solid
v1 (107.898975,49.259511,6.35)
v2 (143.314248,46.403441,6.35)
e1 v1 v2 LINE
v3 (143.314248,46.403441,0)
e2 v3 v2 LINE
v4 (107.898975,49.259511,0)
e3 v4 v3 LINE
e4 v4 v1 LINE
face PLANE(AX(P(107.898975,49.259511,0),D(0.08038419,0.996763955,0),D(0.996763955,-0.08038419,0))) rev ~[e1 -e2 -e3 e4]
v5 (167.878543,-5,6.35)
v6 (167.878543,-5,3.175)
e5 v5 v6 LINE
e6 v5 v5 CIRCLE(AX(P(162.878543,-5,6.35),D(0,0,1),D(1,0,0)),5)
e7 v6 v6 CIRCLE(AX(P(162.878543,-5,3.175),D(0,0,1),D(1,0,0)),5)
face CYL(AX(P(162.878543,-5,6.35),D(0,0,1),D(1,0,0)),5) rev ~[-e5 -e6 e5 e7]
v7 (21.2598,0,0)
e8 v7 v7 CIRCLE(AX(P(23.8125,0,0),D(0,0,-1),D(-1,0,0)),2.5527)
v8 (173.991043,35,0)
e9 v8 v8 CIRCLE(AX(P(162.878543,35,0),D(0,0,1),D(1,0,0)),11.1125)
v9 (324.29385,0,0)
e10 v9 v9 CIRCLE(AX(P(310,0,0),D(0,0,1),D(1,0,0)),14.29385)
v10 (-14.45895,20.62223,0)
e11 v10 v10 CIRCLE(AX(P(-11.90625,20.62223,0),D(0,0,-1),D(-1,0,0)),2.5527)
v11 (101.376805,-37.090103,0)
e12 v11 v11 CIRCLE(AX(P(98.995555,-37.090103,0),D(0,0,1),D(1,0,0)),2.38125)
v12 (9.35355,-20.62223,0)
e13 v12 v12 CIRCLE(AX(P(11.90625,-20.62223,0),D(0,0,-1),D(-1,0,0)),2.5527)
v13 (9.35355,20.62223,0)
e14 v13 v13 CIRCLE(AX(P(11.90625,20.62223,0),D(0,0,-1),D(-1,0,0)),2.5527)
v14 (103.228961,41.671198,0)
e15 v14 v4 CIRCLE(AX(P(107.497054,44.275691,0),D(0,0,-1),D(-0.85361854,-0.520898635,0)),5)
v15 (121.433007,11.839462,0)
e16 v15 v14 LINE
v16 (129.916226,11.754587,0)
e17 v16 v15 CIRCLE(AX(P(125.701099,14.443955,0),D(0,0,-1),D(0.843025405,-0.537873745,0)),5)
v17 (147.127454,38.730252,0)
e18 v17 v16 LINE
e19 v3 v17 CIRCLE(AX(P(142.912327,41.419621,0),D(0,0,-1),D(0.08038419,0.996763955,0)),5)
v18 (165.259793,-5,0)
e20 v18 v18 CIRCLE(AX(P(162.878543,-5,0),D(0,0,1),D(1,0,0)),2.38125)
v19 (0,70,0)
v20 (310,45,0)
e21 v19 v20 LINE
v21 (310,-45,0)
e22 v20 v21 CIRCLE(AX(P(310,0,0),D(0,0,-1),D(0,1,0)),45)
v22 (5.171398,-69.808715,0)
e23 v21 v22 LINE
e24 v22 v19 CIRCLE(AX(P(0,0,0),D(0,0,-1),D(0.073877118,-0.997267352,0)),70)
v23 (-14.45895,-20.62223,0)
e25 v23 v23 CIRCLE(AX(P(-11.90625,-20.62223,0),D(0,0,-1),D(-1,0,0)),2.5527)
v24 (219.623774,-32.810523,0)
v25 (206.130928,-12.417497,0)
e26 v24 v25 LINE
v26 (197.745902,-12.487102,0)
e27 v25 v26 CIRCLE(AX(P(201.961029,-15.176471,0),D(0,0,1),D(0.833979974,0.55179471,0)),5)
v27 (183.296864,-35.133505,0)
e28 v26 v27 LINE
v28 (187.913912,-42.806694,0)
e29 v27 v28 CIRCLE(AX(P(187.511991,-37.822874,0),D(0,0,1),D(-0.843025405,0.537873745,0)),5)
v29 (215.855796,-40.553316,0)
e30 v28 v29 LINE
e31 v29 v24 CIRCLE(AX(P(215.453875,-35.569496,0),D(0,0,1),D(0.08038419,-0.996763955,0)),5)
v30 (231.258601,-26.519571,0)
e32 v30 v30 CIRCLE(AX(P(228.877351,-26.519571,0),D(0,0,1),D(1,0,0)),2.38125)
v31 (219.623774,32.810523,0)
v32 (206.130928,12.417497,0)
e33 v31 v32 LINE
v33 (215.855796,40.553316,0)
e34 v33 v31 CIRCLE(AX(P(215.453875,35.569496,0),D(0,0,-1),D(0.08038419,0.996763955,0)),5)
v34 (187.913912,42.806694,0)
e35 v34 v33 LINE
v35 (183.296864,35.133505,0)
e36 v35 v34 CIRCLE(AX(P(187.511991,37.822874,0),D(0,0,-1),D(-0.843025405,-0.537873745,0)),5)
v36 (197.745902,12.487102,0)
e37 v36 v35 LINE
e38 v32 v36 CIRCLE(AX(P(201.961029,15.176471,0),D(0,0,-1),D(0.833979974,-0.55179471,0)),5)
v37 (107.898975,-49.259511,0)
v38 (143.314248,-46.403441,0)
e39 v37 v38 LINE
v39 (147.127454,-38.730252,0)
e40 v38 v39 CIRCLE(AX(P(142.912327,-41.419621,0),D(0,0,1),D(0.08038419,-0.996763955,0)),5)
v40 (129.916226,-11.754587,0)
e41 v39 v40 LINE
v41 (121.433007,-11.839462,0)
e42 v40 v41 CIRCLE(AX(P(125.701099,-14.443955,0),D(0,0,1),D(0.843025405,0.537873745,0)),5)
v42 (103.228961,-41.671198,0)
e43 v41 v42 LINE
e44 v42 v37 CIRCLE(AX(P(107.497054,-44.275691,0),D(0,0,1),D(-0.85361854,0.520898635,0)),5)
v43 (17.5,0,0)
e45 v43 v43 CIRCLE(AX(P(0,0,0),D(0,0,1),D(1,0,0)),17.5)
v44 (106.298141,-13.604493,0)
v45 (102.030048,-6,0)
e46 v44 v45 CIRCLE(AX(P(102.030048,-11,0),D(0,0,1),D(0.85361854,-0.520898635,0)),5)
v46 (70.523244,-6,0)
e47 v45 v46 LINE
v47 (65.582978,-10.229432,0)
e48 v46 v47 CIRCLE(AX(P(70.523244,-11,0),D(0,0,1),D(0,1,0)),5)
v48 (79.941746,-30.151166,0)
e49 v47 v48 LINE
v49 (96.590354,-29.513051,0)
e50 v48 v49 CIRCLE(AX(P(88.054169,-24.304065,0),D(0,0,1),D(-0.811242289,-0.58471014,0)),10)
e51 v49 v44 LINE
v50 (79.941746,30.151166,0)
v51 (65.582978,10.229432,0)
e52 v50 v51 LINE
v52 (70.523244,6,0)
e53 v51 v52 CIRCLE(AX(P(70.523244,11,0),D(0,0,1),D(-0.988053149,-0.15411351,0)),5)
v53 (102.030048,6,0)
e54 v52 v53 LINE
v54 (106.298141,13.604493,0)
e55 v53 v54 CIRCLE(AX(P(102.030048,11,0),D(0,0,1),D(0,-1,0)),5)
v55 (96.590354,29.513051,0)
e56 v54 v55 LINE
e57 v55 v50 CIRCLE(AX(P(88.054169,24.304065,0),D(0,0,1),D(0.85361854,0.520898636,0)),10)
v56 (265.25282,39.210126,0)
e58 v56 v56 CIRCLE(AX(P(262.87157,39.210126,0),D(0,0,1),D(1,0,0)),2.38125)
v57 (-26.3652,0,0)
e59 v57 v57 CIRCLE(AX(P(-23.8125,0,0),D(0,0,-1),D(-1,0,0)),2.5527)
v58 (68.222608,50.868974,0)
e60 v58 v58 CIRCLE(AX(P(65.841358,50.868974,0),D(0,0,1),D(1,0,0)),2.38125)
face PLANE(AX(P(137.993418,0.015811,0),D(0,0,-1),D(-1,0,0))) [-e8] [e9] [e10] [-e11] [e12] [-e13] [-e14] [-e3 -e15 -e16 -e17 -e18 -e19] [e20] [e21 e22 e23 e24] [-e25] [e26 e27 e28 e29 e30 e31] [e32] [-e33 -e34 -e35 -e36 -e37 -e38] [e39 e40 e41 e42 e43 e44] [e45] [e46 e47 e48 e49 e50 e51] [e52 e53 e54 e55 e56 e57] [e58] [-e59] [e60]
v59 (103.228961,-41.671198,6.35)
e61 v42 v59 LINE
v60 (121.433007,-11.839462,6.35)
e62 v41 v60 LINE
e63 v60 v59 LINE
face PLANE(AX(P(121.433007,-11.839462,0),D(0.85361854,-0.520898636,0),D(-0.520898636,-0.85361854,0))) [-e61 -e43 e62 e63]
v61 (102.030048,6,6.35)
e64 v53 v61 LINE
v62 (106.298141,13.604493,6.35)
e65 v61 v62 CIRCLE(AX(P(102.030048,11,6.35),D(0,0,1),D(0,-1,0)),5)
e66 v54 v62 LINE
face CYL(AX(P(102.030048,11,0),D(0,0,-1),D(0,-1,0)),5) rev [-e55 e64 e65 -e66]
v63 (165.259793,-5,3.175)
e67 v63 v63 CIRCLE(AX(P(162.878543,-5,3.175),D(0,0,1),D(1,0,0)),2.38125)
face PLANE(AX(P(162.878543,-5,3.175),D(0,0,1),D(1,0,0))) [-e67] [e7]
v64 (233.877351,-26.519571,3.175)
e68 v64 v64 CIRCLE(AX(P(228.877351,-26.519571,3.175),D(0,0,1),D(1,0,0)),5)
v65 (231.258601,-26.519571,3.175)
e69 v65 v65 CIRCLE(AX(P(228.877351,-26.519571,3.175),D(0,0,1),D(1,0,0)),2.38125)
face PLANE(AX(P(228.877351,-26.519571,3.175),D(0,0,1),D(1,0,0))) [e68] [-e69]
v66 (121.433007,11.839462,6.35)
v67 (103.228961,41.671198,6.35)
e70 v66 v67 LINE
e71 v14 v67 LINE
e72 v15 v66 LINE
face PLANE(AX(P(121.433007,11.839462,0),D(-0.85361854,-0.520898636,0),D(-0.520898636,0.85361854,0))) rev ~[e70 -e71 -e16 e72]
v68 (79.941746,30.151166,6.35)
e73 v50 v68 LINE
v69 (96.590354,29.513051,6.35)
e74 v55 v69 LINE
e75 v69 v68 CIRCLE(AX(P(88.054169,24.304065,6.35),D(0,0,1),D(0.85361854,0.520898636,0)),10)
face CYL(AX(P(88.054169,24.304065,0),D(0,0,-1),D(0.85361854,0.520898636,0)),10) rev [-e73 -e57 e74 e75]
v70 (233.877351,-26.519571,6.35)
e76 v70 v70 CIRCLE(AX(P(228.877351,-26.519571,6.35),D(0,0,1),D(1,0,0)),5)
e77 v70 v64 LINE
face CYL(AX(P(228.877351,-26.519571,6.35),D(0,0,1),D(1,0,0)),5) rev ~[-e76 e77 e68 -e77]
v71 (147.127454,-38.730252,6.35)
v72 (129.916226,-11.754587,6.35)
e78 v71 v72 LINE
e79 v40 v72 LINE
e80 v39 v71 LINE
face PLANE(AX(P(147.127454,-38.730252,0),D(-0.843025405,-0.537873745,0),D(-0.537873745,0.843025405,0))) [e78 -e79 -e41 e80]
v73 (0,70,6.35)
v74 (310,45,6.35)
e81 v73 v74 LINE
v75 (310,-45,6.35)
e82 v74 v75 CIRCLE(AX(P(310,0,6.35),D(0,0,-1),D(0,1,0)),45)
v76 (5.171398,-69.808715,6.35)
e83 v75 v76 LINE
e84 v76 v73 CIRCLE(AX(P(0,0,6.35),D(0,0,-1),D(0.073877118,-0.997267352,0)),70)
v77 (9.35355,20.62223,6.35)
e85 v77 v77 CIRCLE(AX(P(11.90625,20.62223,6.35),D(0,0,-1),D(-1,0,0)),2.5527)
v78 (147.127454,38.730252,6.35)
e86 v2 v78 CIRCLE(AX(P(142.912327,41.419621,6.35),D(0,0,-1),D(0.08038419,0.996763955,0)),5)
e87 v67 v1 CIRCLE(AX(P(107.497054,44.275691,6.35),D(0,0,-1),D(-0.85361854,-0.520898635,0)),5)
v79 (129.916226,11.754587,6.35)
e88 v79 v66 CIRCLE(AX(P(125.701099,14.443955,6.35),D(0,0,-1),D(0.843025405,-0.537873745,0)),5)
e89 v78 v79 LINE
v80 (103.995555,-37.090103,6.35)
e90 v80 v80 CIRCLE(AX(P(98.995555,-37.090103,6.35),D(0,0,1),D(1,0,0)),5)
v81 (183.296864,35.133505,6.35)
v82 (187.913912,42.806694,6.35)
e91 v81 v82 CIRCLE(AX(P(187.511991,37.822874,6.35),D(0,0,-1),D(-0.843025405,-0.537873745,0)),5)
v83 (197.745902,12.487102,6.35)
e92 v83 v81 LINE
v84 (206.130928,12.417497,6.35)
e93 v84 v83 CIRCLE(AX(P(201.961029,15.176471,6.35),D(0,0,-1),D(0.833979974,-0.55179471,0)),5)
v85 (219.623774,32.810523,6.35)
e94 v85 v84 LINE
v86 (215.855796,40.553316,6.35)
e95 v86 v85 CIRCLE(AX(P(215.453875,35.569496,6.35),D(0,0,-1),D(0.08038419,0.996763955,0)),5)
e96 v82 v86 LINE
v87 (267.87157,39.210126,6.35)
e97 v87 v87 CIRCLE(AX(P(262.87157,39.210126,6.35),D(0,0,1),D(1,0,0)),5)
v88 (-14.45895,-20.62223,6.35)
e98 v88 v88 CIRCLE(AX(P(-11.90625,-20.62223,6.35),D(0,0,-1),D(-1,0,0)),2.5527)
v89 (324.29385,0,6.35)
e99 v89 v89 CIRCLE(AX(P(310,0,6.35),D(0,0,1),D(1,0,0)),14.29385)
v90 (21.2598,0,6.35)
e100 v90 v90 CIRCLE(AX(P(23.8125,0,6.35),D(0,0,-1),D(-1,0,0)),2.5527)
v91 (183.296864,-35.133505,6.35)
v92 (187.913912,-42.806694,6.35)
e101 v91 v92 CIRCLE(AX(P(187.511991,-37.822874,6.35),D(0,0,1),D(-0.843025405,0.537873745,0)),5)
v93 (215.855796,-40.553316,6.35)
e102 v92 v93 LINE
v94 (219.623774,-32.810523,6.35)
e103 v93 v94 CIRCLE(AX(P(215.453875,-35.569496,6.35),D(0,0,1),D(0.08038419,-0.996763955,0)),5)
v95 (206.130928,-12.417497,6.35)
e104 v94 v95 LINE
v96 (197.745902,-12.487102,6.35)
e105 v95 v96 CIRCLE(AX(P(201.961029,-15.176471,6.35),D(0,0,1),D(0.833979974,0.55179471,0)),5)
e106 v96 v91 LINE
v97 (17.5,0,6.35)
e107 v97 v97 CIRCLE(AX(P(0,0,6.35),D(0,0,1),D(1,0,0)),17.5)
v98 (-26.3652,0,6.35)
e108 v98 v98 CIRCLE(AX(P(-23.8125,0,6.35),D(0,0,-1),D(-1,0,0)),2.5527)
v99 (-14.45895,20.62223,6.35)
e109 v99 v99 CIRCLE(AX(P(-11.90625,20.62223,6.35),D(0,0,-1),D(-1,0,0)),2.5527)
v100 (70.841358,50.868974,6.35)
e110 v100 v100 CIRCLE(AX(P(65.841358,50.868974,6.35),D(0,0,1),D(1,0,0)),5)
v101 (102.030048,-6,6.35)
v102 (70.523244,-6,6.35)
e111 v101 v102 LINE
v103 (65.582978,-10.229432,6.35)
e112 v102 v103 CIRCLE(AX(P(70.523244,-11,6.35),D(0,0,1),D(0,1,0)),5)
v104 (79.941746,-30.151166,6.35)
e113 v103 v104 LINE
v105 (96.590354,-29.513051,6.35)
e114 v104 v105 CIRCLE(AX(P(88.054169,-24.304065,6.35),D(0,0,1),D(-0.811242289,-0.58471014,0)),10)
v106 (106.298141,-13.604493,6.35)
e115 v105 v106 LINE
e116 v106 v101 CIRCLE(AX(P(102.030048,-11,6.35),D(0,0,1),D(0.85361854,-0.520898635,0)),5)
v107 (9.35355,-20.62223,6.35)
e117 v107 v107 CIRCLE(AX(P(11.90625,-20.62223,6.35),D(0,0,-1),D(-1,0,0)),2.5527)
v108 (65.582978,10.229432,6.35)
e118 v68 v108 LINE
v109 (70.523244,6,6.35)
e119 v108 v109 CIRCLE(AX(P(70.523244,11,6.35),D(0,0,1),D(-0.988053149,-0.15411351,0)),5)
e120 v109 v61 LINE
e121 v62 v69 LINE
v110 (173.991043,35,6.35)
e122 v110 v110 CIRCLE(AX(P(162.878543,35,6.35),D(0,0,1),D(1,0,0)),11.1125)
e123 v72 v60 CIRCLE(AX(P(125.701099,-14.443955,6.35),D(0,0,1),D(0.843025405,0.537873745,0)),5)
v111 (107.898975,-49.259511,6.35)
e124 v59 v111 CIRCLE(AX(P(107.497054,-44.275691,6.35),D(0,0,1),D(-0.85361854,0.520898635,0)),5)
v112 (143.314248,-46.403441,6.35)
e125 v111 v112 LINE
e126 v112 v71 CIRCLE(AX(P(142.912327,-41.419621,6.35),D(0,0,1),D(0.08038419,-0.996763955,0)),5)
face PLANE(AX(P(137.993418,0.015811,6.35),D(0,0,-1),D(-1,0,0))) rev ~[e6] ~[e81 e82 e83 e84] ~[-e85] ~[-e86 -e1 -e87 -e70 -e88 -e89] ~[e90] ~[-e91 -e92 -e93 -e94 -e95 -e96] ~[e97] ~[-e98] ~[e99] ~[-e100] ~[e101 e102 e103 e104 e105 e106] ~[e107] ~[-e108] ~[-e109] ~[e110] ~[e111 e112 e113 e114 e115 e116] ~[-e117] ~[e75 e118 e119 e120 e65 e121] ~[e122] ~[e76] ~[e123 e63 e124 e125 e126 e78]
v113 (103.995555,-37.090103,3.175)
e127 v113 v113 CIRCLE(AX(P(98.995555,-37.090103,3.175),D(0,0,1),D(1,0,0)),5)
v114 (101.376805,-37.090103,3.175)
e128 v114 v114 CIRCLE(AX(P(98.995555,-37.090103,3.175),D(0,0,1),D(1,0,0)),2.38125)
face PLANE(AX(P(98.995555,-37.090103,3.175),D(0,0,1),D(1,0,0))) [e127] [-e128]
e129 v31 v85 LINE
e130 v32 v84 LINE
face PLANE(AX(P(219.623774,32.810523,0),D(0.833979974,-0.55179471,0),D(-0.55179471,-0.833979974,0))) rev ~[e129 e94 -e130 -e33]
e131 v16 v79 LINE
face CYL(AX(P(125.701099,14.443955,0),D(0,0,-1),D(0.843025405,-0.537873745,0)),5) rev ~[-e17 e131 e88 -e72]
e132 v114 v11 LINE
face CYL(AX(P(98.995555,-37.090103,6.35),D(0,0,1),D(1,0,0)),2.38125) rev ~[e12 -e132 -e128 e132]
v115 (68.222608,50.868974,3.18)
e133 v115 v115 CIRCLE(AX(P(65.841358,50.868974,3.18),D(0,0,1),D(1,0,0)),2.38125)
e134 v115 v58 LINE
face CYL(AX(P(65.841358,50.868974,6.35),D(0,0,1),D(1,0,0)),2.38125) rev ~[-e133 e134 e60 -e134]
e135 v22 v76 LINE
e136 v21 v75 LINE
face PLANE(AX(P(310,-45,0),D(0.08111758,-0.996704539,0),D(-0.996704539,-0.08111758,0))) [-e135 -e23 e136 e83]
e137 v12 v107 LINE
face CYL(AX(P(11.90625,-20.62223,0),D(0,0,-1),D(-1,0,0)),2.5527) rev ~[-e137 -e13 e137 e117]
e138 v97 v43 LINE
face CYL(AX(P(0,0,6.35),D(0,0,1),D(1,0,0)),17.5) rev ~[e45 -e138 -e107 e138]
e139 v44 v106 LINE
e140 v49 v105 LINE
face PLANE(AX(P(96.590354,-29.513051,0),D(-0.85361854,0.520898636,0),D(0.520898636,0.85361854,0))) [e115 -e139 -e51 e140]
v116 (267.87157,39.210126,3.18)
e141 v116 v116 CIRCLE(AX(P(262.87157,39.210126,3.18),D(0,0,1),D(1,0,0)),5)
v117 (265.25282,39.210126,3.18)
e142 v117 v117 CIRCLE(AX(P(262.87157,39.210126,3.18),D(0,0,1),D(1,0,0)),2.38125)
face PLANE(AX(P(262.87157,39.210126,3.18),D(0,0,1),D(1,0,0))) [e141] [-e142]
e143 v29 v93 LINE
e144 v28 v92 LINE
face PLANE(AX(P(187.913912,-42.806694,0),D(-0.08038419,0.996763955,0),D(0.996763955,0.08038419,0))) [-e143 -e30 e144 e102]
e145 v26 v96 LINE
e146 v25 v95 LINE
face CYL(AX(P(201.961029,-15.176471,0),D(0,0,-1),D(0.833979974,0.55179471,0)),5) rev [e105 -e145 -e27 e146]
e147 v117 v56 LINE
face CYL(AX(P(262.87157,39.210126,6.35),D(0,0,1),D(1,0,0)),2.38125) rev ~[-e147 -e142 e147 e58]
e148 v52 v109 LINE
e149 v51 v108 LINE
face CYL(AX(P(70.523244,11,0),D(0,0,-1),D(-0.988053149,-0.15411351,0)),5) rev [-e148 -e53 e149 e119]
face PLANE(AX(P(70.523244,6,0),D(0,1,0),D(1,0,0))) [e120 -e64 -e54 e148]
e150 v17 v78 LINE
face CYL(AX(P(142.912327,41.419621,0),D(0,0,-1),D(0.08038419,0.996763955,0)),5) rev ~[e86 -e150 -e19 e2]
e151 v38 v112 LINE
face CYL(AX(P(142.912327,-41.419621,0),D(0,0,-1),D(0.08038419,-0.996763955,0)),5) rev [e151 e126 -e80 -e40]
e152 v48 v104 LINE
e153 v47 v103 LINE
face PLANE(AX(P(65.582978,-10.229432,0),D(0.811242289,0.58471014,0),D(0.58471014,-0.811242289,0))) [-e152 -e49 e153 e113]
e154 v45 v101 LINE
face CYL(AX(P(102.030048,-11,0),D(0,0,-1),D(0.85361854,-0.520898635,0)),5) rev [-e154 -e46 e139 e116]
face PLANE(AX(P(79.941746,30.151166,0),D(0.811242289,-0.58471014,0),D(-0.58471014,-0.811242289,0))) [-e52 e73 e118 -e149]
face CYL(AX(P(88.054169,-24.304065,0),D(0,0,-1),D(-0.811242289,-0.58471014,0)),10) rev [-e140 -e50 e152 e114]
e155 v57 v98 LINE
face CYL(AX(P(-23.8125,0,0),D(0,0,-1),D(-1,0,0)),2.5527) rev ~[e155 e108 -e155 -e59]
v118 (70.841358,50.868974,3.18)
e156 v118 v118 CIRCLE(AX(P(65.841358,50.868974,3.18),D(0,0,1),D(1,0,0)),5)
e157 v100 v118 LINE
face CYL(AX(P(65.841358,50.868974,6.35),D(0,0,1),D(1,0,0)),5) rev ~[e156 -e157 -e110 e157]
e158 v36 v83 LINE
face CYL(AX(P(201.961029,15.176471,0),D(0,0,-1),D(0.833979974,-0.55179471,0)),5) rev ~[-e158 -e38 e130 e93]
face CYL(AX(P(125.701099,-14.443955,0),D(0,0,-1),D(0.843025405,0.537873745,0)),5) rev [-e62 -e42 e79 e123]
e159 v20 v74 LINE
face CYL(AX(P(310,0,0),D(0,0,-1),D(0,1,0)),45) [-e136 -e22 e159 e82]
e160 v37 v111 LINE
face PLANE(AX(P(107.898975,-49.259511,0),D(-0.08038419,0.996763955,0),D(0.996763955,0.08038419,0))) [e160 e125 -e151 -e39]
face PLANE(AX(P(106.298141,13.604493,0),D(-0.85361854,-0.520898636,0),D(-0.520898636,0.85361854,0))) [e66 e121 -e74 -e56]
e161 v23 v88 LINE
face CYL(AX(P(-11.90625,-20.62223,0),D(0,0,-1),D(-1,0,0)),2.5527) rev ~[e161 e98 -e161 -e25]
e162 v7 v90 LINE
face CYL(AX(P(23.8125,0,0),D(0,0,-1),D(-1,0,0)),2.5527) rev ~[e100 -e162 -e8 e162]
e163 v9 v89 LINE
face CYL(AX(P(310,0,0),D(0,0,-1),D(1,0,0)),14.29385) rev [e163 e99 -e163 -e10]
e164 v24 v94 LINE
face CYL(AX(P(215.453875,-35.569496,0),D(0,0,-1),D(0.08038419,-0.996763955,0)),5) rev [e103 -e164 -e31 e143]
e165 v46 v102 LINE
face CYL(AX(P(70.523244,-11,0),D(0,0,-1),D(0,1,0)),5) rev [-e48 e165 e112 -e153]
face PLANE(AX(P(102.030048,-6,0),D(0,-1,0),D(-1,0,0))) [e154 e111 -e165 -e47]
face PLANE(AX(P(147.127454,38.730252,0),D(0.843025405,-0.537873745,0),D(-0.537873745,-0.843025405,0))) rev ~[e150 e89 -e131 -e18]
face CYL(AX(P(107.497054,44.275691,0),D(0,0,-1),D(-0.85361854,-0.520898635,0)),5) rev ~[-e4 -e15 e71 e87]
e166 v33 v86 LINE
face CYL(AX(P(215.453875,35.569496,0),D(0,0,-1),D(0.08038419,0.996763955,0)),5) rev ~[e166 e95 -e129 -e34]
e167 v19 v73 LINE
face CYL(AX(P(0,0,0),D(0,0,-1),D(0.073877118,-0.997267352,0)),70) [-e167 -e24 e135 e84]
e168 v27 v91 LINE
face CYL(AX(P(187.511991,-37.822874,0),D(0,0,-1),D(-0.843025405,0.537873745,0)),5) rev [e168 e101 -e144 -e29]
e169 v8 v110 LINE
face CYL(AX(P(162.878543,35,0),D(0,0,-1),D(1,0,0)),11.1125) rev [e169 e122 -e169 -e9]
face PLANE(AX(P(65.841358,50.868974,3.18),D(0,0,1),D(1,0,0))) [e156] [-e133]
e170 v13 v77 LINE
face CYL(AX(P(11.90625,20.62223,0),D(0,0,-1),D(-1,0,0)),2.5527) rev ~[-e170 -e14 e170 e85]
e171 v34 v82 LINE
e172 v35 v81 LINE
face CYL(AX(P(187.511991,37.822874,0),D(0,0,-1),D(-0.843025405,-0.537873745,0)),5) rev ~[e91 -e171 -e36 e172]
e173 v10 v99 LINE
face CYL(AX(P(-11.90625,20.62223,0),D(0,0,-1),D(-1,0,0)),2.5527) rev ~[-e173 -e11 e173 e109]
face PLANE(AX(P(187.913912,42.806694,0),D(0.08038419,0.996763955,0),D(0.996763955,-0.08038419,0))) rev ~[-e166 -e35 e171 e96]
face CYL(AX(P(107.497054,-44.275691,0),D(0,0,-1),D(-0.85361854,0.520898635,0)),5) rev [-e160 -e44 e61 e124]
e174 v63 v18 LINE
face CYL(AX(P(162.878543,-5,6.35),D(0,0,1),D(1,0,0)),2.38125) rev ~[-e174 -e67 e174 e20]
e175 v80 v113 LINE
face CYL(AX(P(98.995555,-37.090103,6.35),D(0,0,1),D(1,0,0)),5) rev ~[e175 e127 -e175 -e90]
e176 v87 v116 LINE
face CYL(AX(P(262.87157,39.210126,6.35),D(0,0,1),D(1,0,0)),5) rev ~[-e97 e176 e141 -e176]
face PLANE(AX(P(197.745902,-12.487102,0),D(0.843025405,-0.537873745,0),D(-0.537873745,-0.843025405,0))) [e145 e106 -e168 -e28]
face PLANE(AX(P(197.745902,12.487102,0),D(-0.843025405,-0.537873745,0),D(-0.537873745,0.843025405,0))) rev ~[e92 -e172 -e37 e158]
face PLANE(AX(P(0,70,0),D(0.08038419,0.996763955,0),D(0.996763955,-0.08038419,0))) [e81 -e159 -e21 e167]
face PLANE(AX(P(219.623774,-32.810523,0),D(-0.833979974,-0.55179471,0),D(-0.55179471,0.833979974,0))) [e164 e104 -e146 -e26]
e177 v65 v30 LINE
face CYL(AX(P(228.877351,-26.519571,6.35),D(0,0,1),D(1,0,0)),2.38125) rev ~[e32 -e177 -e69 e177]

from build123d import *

# Parameters (mm, degrees)
SKETCH1_R             = 14.29385
SKETCH1_R_2           = 11.1125
BOSS_EXTRUDE1_DEPTH   = 6.35
CROQUIS1_R            = 2.38125
CORTAR_EXTRUIR1_DEPTH = 50
CROQUIS2_R            = 5
CORTAR_EXTRUIR2_DEPTH = 3.175
CROQUIS4_R            = 5
CORTAR_EXTRUIR3_DEPTH = 3.175
CROQUIS5_R            = 2.38125
CORTAR_EXTRUIR5_DEPTH = 10
CROQUIS6_R            = 2.38125
CORTAR_EXTRUIR6_DEPTH = 10
CROQUIS7_R            = 5
CORTAR_EXTRUIR7_DEPTH = 3.17
CROQUIS8_R            = 17.5
CORTAR_EXTRUIR8_DEPTH = 10
CROQUIS9_R            = 2.5527
CORTAR_EXTRUIR9_DEPTH = 10


with BuildPart() as part:
    # Sketch1 → Boss-Extrude1 (new body)
    with BuildSketch(Plane.XY):
        with BuildLine():
            Line((0, 70), (310, 45))
            ThreePointArc((310, 45), (355, 0), (310, -45))
            Line((310, -45), (5.171398252, -69.808714643))
            ThreePointArc((5.171398252, -69.808714643), (-69.952162315, -2.587467389), (0, 70))
        make_face()
        Circle(SKETCH1_R, mode=Mode.SUBTRACT)
        with Locations((310, 0)):
            Circle(SKETCH1_R, mode=Mode.SUBTRACT)
        with Locations((162.878542763, 35)):
            Circle(SKETCH1_R_2, mode=Mode.SUBTRACT)
        with BuildLine():
            Line((107.898974887, 49.259511156), (143.314248041, 46.40344074))
            ThreePointArc((143.314248041, 46.40344074), (147.389908855, 43.644764005), (147.127454118, 38.730252238))
            Line((147.127454118, 38.730252238), (129.916226305, 11.754586611))
            ThreePointArc((129.916226305, 11.754586611), (125.651076231, 9.444205574), (121.433006579, 11.839462159))
            Line((121.433006579, 11.839462159), (103.228961238, 41.671198203))
            ThreePointArc((103.228961238, 41.671198203), (103.238833139, 46.896293531), (107.898974887, 49.259511156))
        make_face(mode=Mode.SUBTRACT)
        with BuildLine():
            Line((70.523244027, 6), (102.03004784, 6))
            ThreePointArc((102.03004784, 6), (106.3902351, 8.552804247), (106.298140539, 13.604493178))
            Line((106.298140539, 13.604493178), (96.590354482, 29.513051181))
            ThreePointArc((96.590354482, 29.513051181), (88.437172177, 34.296727565), (79.941746192, 30.151166228))
            Line((79.941746192, 30.151166228), (65.58297828, 10.229432452))
            ThreePointArc((65.58297828, 10.229432452), (67.271539685, 7.201787411), (70.523244027, 6))
        make_face(mode=Mode.SUBTRACT)
        with BuildLine():
            Line((219.623774494, 32.810522613), (206.130928429, 12.417497436))
            ThreePointArc((206.130928429, 12.417497436), (201.919524559, 10.176643248), (197.745901529, 12.48710226))
            Line((197.745901529, 12.48710226), (183.296864227, 35.133505128))
            ThreePointArc((183.296864227, 35.133505128), (183.227765467, 40.400743015), (187.913912204, 42.80669363))
            Line((187.913912204, 42.80669363), (215.855795571, 40.553315939))
            ThreePointArc((215.855795571, 40.553315939), (219.949772588, 37.757395035), (219.623774494, 32.810522613))
        make_face(mode=Mode.SUBTRACT)
        with BuildLine():
            Line((96.590354482, -29.513051181), (106.298140539, -13.604493178))
            ThreePointArc((106.298140539, -13.604493178), (106.3902351, -8.552804247), (102.03004784, -6))
            Line((102.03004784, -6), (70.523244027, -6))
            ThreePointArc((70.523244027, -6), (67.271539685, -7.201787411), (65.58297828, -10.229432452))
            Line((65.58297828, -10.229432452), (79.941746192, -30.151166228))
            ThreePointArc((79.941746192, -30.151166228), (88.437172177, -34.296727565), (96.590354482, -29.513051181))
        make_face(mode=Mode.SUBTRACT)
        with BuildLine():
            Line((187.913912204, -42.80669363), (215.855795571, -40.553315939))
            ThreePointArc((215.855795571, -40.553315939), (219.949772588, -37.757395035), (219.623774494, -32.810522613))
            Line((219.623774494, -32.810522613), (206.130928429, -12.417497436))
            ThreePointArc((206.130928429, -12.417497436), (201.919524559, -10.176643248), (197.745901529, -12.48710226))
            Line((197.745901529, -12.48710226), (183.296864227, -35.133505128))
            ThreePointArc((183.296864227, -35.133505128), (183.227765467, -40.400743015), (187.913912204, -42.80669363))
        make_face(mode=Mode.SUBTRACT)
        with BuildLine():
            Line((121.433006579, -11.839462159), (103.228961238, -41.671198203))
            ThreePointArc((103.228961238, -41.671198203), (103.238833139, -46.896293531), (107.898974887, -49.259511156))
            Line((107.898974887, -49.259511156), (143.314248041, -46.40344074))
            ThreePointArc((143.314248041, -46.40344074), (147.389908855, -43.644764005), (147.127454118, -38.730252238))
            Line((147.127454118, -38.730252238), (129.916226305, -11.754586611))
            ThreePointArc((129.916226305, -11.754586611), (125.651076231, -9.444205574), (121.433006579, -11.839462159))
        make_face(mode=Mode.SUBTRACT)
    extrude(amount=BOSS_EXTRUDE1_DEPTH)

    # Croquis1 → Cortar-Extruir1 (cut)
    with BuildSketch(Plane.XY.offset(6.35)):
        with Locations((98.995555235, -37.090103176)):
            Circle(CROQUIS1_R)
        with Locations((228.877351461, -26.519571404)):
            Circle(CROQUIS1_R)
    extrude(amount=-CORTAR_EXTRUIR1_DEPTH, mode=Mode.SUBTRACT)

    # Croquis2 → Cortar-Extruir2 (cut)
    with BuildSketch(Plane.XY.offset(6.35)):
        with Locations((98.995555235, -37.090103176)):
            Circle(CROQUIS2_R)
        with Locations((228.877351461, -26.519571404)):
            Circle(CROQUIS2_R)
    extrude(amount=-CORTAR_EXTRUIR2_DEPTH, mode=Mode.SUBTRACT)

    # Croquis4 → Cortar-Extruir3 (cut)
    with BuildSketch(Plane.XY.offset(6.35)):
        with Locations((162.878542763, -5)):
            Circle(CROQUIS4_R)
    extrude(amount=-CORTAR_EXTRUIR3_DEPTH, mode=Mode.SUBTRACT)

    # Croquis5 → Cortar-Extruir5 (cut)
    with BuildSketch(Plane.XY.offset(6.35)):
        with Locations((162.878542763, -5)):
            Circle(CROQUIS5_R)
    extrude(amount=-CORTAR_EXTRUIR5_DEPTH, mode=Mode.SUBTRACT)

    # Croquis6 → Cortar-Extruir6 (cut)
    with BuildSketch(Plane.XY.offset(6.35)):
        with Locations((65.84135797, 50.868973694)):
            Circle(CROQUIS6_R)
        with Locations((262.871569637, 39.210126075)):
            Circle(CROQUIS6_R)
    extrude(amount=-CORTAR_EXTRUIR6_DEPTH, mode=Mode.SUBTRACT)

    # Croquis7 → Cortar-Extruir7 (cut)
    with BuildSketch(Plane.XY.offset(6.35)):
        with Locations((65.84135797, 50.868973694)):
            Circle(CROQUIS7_R)
        with Locations((262.871569637, 39.210126075)):
            Circle(CROQUIS7_R)
    extrude(amount=-CORTAR_EXTRUIR7_DEPTH, mode=Mode.SUBTRACT)

    # Croquis8 → Cortar-Extruir8 (cut)
    with BuildSketch(Plane.XY.offset(6.35)):
        Circle(CROQUIS8_R)
    extrude(amount=-CORTAR_EXTRUIR8_DEPTH, mode=Mode.SUBTRACT)

    # Croquis9 → Cortar-Extruir9 (cut)
    with BuildSketch(Plane(origin=(0, 0, 0), x_dir=(-1, 0, 0), z_dir=(0, 0, -1))):
        with Locations((23.8125, 0)):
            Circle(CROQUIS9_R)
        with Locations((11.90625, -20.622229928)):
            Circle(CROQUIS9_R)
        with Locations((-11.90625, -20.622229928)):
            Circle(CROQUIS9_R)
        with Locations((-23.8125, 0)):
            Circle(CROQUIS9_R)
        with Locations((-11.90625, 20.622229928)):
            Circle(CROQUIS9_R)
        with Locations((11.90625, 20.622229928)):
            Circle(CROQUIS9_R)
    extrude(amount=-CORTAR_EXTRUIR9_DEPTH, mode=Mode.SUBTRACT)


solid = part.part
